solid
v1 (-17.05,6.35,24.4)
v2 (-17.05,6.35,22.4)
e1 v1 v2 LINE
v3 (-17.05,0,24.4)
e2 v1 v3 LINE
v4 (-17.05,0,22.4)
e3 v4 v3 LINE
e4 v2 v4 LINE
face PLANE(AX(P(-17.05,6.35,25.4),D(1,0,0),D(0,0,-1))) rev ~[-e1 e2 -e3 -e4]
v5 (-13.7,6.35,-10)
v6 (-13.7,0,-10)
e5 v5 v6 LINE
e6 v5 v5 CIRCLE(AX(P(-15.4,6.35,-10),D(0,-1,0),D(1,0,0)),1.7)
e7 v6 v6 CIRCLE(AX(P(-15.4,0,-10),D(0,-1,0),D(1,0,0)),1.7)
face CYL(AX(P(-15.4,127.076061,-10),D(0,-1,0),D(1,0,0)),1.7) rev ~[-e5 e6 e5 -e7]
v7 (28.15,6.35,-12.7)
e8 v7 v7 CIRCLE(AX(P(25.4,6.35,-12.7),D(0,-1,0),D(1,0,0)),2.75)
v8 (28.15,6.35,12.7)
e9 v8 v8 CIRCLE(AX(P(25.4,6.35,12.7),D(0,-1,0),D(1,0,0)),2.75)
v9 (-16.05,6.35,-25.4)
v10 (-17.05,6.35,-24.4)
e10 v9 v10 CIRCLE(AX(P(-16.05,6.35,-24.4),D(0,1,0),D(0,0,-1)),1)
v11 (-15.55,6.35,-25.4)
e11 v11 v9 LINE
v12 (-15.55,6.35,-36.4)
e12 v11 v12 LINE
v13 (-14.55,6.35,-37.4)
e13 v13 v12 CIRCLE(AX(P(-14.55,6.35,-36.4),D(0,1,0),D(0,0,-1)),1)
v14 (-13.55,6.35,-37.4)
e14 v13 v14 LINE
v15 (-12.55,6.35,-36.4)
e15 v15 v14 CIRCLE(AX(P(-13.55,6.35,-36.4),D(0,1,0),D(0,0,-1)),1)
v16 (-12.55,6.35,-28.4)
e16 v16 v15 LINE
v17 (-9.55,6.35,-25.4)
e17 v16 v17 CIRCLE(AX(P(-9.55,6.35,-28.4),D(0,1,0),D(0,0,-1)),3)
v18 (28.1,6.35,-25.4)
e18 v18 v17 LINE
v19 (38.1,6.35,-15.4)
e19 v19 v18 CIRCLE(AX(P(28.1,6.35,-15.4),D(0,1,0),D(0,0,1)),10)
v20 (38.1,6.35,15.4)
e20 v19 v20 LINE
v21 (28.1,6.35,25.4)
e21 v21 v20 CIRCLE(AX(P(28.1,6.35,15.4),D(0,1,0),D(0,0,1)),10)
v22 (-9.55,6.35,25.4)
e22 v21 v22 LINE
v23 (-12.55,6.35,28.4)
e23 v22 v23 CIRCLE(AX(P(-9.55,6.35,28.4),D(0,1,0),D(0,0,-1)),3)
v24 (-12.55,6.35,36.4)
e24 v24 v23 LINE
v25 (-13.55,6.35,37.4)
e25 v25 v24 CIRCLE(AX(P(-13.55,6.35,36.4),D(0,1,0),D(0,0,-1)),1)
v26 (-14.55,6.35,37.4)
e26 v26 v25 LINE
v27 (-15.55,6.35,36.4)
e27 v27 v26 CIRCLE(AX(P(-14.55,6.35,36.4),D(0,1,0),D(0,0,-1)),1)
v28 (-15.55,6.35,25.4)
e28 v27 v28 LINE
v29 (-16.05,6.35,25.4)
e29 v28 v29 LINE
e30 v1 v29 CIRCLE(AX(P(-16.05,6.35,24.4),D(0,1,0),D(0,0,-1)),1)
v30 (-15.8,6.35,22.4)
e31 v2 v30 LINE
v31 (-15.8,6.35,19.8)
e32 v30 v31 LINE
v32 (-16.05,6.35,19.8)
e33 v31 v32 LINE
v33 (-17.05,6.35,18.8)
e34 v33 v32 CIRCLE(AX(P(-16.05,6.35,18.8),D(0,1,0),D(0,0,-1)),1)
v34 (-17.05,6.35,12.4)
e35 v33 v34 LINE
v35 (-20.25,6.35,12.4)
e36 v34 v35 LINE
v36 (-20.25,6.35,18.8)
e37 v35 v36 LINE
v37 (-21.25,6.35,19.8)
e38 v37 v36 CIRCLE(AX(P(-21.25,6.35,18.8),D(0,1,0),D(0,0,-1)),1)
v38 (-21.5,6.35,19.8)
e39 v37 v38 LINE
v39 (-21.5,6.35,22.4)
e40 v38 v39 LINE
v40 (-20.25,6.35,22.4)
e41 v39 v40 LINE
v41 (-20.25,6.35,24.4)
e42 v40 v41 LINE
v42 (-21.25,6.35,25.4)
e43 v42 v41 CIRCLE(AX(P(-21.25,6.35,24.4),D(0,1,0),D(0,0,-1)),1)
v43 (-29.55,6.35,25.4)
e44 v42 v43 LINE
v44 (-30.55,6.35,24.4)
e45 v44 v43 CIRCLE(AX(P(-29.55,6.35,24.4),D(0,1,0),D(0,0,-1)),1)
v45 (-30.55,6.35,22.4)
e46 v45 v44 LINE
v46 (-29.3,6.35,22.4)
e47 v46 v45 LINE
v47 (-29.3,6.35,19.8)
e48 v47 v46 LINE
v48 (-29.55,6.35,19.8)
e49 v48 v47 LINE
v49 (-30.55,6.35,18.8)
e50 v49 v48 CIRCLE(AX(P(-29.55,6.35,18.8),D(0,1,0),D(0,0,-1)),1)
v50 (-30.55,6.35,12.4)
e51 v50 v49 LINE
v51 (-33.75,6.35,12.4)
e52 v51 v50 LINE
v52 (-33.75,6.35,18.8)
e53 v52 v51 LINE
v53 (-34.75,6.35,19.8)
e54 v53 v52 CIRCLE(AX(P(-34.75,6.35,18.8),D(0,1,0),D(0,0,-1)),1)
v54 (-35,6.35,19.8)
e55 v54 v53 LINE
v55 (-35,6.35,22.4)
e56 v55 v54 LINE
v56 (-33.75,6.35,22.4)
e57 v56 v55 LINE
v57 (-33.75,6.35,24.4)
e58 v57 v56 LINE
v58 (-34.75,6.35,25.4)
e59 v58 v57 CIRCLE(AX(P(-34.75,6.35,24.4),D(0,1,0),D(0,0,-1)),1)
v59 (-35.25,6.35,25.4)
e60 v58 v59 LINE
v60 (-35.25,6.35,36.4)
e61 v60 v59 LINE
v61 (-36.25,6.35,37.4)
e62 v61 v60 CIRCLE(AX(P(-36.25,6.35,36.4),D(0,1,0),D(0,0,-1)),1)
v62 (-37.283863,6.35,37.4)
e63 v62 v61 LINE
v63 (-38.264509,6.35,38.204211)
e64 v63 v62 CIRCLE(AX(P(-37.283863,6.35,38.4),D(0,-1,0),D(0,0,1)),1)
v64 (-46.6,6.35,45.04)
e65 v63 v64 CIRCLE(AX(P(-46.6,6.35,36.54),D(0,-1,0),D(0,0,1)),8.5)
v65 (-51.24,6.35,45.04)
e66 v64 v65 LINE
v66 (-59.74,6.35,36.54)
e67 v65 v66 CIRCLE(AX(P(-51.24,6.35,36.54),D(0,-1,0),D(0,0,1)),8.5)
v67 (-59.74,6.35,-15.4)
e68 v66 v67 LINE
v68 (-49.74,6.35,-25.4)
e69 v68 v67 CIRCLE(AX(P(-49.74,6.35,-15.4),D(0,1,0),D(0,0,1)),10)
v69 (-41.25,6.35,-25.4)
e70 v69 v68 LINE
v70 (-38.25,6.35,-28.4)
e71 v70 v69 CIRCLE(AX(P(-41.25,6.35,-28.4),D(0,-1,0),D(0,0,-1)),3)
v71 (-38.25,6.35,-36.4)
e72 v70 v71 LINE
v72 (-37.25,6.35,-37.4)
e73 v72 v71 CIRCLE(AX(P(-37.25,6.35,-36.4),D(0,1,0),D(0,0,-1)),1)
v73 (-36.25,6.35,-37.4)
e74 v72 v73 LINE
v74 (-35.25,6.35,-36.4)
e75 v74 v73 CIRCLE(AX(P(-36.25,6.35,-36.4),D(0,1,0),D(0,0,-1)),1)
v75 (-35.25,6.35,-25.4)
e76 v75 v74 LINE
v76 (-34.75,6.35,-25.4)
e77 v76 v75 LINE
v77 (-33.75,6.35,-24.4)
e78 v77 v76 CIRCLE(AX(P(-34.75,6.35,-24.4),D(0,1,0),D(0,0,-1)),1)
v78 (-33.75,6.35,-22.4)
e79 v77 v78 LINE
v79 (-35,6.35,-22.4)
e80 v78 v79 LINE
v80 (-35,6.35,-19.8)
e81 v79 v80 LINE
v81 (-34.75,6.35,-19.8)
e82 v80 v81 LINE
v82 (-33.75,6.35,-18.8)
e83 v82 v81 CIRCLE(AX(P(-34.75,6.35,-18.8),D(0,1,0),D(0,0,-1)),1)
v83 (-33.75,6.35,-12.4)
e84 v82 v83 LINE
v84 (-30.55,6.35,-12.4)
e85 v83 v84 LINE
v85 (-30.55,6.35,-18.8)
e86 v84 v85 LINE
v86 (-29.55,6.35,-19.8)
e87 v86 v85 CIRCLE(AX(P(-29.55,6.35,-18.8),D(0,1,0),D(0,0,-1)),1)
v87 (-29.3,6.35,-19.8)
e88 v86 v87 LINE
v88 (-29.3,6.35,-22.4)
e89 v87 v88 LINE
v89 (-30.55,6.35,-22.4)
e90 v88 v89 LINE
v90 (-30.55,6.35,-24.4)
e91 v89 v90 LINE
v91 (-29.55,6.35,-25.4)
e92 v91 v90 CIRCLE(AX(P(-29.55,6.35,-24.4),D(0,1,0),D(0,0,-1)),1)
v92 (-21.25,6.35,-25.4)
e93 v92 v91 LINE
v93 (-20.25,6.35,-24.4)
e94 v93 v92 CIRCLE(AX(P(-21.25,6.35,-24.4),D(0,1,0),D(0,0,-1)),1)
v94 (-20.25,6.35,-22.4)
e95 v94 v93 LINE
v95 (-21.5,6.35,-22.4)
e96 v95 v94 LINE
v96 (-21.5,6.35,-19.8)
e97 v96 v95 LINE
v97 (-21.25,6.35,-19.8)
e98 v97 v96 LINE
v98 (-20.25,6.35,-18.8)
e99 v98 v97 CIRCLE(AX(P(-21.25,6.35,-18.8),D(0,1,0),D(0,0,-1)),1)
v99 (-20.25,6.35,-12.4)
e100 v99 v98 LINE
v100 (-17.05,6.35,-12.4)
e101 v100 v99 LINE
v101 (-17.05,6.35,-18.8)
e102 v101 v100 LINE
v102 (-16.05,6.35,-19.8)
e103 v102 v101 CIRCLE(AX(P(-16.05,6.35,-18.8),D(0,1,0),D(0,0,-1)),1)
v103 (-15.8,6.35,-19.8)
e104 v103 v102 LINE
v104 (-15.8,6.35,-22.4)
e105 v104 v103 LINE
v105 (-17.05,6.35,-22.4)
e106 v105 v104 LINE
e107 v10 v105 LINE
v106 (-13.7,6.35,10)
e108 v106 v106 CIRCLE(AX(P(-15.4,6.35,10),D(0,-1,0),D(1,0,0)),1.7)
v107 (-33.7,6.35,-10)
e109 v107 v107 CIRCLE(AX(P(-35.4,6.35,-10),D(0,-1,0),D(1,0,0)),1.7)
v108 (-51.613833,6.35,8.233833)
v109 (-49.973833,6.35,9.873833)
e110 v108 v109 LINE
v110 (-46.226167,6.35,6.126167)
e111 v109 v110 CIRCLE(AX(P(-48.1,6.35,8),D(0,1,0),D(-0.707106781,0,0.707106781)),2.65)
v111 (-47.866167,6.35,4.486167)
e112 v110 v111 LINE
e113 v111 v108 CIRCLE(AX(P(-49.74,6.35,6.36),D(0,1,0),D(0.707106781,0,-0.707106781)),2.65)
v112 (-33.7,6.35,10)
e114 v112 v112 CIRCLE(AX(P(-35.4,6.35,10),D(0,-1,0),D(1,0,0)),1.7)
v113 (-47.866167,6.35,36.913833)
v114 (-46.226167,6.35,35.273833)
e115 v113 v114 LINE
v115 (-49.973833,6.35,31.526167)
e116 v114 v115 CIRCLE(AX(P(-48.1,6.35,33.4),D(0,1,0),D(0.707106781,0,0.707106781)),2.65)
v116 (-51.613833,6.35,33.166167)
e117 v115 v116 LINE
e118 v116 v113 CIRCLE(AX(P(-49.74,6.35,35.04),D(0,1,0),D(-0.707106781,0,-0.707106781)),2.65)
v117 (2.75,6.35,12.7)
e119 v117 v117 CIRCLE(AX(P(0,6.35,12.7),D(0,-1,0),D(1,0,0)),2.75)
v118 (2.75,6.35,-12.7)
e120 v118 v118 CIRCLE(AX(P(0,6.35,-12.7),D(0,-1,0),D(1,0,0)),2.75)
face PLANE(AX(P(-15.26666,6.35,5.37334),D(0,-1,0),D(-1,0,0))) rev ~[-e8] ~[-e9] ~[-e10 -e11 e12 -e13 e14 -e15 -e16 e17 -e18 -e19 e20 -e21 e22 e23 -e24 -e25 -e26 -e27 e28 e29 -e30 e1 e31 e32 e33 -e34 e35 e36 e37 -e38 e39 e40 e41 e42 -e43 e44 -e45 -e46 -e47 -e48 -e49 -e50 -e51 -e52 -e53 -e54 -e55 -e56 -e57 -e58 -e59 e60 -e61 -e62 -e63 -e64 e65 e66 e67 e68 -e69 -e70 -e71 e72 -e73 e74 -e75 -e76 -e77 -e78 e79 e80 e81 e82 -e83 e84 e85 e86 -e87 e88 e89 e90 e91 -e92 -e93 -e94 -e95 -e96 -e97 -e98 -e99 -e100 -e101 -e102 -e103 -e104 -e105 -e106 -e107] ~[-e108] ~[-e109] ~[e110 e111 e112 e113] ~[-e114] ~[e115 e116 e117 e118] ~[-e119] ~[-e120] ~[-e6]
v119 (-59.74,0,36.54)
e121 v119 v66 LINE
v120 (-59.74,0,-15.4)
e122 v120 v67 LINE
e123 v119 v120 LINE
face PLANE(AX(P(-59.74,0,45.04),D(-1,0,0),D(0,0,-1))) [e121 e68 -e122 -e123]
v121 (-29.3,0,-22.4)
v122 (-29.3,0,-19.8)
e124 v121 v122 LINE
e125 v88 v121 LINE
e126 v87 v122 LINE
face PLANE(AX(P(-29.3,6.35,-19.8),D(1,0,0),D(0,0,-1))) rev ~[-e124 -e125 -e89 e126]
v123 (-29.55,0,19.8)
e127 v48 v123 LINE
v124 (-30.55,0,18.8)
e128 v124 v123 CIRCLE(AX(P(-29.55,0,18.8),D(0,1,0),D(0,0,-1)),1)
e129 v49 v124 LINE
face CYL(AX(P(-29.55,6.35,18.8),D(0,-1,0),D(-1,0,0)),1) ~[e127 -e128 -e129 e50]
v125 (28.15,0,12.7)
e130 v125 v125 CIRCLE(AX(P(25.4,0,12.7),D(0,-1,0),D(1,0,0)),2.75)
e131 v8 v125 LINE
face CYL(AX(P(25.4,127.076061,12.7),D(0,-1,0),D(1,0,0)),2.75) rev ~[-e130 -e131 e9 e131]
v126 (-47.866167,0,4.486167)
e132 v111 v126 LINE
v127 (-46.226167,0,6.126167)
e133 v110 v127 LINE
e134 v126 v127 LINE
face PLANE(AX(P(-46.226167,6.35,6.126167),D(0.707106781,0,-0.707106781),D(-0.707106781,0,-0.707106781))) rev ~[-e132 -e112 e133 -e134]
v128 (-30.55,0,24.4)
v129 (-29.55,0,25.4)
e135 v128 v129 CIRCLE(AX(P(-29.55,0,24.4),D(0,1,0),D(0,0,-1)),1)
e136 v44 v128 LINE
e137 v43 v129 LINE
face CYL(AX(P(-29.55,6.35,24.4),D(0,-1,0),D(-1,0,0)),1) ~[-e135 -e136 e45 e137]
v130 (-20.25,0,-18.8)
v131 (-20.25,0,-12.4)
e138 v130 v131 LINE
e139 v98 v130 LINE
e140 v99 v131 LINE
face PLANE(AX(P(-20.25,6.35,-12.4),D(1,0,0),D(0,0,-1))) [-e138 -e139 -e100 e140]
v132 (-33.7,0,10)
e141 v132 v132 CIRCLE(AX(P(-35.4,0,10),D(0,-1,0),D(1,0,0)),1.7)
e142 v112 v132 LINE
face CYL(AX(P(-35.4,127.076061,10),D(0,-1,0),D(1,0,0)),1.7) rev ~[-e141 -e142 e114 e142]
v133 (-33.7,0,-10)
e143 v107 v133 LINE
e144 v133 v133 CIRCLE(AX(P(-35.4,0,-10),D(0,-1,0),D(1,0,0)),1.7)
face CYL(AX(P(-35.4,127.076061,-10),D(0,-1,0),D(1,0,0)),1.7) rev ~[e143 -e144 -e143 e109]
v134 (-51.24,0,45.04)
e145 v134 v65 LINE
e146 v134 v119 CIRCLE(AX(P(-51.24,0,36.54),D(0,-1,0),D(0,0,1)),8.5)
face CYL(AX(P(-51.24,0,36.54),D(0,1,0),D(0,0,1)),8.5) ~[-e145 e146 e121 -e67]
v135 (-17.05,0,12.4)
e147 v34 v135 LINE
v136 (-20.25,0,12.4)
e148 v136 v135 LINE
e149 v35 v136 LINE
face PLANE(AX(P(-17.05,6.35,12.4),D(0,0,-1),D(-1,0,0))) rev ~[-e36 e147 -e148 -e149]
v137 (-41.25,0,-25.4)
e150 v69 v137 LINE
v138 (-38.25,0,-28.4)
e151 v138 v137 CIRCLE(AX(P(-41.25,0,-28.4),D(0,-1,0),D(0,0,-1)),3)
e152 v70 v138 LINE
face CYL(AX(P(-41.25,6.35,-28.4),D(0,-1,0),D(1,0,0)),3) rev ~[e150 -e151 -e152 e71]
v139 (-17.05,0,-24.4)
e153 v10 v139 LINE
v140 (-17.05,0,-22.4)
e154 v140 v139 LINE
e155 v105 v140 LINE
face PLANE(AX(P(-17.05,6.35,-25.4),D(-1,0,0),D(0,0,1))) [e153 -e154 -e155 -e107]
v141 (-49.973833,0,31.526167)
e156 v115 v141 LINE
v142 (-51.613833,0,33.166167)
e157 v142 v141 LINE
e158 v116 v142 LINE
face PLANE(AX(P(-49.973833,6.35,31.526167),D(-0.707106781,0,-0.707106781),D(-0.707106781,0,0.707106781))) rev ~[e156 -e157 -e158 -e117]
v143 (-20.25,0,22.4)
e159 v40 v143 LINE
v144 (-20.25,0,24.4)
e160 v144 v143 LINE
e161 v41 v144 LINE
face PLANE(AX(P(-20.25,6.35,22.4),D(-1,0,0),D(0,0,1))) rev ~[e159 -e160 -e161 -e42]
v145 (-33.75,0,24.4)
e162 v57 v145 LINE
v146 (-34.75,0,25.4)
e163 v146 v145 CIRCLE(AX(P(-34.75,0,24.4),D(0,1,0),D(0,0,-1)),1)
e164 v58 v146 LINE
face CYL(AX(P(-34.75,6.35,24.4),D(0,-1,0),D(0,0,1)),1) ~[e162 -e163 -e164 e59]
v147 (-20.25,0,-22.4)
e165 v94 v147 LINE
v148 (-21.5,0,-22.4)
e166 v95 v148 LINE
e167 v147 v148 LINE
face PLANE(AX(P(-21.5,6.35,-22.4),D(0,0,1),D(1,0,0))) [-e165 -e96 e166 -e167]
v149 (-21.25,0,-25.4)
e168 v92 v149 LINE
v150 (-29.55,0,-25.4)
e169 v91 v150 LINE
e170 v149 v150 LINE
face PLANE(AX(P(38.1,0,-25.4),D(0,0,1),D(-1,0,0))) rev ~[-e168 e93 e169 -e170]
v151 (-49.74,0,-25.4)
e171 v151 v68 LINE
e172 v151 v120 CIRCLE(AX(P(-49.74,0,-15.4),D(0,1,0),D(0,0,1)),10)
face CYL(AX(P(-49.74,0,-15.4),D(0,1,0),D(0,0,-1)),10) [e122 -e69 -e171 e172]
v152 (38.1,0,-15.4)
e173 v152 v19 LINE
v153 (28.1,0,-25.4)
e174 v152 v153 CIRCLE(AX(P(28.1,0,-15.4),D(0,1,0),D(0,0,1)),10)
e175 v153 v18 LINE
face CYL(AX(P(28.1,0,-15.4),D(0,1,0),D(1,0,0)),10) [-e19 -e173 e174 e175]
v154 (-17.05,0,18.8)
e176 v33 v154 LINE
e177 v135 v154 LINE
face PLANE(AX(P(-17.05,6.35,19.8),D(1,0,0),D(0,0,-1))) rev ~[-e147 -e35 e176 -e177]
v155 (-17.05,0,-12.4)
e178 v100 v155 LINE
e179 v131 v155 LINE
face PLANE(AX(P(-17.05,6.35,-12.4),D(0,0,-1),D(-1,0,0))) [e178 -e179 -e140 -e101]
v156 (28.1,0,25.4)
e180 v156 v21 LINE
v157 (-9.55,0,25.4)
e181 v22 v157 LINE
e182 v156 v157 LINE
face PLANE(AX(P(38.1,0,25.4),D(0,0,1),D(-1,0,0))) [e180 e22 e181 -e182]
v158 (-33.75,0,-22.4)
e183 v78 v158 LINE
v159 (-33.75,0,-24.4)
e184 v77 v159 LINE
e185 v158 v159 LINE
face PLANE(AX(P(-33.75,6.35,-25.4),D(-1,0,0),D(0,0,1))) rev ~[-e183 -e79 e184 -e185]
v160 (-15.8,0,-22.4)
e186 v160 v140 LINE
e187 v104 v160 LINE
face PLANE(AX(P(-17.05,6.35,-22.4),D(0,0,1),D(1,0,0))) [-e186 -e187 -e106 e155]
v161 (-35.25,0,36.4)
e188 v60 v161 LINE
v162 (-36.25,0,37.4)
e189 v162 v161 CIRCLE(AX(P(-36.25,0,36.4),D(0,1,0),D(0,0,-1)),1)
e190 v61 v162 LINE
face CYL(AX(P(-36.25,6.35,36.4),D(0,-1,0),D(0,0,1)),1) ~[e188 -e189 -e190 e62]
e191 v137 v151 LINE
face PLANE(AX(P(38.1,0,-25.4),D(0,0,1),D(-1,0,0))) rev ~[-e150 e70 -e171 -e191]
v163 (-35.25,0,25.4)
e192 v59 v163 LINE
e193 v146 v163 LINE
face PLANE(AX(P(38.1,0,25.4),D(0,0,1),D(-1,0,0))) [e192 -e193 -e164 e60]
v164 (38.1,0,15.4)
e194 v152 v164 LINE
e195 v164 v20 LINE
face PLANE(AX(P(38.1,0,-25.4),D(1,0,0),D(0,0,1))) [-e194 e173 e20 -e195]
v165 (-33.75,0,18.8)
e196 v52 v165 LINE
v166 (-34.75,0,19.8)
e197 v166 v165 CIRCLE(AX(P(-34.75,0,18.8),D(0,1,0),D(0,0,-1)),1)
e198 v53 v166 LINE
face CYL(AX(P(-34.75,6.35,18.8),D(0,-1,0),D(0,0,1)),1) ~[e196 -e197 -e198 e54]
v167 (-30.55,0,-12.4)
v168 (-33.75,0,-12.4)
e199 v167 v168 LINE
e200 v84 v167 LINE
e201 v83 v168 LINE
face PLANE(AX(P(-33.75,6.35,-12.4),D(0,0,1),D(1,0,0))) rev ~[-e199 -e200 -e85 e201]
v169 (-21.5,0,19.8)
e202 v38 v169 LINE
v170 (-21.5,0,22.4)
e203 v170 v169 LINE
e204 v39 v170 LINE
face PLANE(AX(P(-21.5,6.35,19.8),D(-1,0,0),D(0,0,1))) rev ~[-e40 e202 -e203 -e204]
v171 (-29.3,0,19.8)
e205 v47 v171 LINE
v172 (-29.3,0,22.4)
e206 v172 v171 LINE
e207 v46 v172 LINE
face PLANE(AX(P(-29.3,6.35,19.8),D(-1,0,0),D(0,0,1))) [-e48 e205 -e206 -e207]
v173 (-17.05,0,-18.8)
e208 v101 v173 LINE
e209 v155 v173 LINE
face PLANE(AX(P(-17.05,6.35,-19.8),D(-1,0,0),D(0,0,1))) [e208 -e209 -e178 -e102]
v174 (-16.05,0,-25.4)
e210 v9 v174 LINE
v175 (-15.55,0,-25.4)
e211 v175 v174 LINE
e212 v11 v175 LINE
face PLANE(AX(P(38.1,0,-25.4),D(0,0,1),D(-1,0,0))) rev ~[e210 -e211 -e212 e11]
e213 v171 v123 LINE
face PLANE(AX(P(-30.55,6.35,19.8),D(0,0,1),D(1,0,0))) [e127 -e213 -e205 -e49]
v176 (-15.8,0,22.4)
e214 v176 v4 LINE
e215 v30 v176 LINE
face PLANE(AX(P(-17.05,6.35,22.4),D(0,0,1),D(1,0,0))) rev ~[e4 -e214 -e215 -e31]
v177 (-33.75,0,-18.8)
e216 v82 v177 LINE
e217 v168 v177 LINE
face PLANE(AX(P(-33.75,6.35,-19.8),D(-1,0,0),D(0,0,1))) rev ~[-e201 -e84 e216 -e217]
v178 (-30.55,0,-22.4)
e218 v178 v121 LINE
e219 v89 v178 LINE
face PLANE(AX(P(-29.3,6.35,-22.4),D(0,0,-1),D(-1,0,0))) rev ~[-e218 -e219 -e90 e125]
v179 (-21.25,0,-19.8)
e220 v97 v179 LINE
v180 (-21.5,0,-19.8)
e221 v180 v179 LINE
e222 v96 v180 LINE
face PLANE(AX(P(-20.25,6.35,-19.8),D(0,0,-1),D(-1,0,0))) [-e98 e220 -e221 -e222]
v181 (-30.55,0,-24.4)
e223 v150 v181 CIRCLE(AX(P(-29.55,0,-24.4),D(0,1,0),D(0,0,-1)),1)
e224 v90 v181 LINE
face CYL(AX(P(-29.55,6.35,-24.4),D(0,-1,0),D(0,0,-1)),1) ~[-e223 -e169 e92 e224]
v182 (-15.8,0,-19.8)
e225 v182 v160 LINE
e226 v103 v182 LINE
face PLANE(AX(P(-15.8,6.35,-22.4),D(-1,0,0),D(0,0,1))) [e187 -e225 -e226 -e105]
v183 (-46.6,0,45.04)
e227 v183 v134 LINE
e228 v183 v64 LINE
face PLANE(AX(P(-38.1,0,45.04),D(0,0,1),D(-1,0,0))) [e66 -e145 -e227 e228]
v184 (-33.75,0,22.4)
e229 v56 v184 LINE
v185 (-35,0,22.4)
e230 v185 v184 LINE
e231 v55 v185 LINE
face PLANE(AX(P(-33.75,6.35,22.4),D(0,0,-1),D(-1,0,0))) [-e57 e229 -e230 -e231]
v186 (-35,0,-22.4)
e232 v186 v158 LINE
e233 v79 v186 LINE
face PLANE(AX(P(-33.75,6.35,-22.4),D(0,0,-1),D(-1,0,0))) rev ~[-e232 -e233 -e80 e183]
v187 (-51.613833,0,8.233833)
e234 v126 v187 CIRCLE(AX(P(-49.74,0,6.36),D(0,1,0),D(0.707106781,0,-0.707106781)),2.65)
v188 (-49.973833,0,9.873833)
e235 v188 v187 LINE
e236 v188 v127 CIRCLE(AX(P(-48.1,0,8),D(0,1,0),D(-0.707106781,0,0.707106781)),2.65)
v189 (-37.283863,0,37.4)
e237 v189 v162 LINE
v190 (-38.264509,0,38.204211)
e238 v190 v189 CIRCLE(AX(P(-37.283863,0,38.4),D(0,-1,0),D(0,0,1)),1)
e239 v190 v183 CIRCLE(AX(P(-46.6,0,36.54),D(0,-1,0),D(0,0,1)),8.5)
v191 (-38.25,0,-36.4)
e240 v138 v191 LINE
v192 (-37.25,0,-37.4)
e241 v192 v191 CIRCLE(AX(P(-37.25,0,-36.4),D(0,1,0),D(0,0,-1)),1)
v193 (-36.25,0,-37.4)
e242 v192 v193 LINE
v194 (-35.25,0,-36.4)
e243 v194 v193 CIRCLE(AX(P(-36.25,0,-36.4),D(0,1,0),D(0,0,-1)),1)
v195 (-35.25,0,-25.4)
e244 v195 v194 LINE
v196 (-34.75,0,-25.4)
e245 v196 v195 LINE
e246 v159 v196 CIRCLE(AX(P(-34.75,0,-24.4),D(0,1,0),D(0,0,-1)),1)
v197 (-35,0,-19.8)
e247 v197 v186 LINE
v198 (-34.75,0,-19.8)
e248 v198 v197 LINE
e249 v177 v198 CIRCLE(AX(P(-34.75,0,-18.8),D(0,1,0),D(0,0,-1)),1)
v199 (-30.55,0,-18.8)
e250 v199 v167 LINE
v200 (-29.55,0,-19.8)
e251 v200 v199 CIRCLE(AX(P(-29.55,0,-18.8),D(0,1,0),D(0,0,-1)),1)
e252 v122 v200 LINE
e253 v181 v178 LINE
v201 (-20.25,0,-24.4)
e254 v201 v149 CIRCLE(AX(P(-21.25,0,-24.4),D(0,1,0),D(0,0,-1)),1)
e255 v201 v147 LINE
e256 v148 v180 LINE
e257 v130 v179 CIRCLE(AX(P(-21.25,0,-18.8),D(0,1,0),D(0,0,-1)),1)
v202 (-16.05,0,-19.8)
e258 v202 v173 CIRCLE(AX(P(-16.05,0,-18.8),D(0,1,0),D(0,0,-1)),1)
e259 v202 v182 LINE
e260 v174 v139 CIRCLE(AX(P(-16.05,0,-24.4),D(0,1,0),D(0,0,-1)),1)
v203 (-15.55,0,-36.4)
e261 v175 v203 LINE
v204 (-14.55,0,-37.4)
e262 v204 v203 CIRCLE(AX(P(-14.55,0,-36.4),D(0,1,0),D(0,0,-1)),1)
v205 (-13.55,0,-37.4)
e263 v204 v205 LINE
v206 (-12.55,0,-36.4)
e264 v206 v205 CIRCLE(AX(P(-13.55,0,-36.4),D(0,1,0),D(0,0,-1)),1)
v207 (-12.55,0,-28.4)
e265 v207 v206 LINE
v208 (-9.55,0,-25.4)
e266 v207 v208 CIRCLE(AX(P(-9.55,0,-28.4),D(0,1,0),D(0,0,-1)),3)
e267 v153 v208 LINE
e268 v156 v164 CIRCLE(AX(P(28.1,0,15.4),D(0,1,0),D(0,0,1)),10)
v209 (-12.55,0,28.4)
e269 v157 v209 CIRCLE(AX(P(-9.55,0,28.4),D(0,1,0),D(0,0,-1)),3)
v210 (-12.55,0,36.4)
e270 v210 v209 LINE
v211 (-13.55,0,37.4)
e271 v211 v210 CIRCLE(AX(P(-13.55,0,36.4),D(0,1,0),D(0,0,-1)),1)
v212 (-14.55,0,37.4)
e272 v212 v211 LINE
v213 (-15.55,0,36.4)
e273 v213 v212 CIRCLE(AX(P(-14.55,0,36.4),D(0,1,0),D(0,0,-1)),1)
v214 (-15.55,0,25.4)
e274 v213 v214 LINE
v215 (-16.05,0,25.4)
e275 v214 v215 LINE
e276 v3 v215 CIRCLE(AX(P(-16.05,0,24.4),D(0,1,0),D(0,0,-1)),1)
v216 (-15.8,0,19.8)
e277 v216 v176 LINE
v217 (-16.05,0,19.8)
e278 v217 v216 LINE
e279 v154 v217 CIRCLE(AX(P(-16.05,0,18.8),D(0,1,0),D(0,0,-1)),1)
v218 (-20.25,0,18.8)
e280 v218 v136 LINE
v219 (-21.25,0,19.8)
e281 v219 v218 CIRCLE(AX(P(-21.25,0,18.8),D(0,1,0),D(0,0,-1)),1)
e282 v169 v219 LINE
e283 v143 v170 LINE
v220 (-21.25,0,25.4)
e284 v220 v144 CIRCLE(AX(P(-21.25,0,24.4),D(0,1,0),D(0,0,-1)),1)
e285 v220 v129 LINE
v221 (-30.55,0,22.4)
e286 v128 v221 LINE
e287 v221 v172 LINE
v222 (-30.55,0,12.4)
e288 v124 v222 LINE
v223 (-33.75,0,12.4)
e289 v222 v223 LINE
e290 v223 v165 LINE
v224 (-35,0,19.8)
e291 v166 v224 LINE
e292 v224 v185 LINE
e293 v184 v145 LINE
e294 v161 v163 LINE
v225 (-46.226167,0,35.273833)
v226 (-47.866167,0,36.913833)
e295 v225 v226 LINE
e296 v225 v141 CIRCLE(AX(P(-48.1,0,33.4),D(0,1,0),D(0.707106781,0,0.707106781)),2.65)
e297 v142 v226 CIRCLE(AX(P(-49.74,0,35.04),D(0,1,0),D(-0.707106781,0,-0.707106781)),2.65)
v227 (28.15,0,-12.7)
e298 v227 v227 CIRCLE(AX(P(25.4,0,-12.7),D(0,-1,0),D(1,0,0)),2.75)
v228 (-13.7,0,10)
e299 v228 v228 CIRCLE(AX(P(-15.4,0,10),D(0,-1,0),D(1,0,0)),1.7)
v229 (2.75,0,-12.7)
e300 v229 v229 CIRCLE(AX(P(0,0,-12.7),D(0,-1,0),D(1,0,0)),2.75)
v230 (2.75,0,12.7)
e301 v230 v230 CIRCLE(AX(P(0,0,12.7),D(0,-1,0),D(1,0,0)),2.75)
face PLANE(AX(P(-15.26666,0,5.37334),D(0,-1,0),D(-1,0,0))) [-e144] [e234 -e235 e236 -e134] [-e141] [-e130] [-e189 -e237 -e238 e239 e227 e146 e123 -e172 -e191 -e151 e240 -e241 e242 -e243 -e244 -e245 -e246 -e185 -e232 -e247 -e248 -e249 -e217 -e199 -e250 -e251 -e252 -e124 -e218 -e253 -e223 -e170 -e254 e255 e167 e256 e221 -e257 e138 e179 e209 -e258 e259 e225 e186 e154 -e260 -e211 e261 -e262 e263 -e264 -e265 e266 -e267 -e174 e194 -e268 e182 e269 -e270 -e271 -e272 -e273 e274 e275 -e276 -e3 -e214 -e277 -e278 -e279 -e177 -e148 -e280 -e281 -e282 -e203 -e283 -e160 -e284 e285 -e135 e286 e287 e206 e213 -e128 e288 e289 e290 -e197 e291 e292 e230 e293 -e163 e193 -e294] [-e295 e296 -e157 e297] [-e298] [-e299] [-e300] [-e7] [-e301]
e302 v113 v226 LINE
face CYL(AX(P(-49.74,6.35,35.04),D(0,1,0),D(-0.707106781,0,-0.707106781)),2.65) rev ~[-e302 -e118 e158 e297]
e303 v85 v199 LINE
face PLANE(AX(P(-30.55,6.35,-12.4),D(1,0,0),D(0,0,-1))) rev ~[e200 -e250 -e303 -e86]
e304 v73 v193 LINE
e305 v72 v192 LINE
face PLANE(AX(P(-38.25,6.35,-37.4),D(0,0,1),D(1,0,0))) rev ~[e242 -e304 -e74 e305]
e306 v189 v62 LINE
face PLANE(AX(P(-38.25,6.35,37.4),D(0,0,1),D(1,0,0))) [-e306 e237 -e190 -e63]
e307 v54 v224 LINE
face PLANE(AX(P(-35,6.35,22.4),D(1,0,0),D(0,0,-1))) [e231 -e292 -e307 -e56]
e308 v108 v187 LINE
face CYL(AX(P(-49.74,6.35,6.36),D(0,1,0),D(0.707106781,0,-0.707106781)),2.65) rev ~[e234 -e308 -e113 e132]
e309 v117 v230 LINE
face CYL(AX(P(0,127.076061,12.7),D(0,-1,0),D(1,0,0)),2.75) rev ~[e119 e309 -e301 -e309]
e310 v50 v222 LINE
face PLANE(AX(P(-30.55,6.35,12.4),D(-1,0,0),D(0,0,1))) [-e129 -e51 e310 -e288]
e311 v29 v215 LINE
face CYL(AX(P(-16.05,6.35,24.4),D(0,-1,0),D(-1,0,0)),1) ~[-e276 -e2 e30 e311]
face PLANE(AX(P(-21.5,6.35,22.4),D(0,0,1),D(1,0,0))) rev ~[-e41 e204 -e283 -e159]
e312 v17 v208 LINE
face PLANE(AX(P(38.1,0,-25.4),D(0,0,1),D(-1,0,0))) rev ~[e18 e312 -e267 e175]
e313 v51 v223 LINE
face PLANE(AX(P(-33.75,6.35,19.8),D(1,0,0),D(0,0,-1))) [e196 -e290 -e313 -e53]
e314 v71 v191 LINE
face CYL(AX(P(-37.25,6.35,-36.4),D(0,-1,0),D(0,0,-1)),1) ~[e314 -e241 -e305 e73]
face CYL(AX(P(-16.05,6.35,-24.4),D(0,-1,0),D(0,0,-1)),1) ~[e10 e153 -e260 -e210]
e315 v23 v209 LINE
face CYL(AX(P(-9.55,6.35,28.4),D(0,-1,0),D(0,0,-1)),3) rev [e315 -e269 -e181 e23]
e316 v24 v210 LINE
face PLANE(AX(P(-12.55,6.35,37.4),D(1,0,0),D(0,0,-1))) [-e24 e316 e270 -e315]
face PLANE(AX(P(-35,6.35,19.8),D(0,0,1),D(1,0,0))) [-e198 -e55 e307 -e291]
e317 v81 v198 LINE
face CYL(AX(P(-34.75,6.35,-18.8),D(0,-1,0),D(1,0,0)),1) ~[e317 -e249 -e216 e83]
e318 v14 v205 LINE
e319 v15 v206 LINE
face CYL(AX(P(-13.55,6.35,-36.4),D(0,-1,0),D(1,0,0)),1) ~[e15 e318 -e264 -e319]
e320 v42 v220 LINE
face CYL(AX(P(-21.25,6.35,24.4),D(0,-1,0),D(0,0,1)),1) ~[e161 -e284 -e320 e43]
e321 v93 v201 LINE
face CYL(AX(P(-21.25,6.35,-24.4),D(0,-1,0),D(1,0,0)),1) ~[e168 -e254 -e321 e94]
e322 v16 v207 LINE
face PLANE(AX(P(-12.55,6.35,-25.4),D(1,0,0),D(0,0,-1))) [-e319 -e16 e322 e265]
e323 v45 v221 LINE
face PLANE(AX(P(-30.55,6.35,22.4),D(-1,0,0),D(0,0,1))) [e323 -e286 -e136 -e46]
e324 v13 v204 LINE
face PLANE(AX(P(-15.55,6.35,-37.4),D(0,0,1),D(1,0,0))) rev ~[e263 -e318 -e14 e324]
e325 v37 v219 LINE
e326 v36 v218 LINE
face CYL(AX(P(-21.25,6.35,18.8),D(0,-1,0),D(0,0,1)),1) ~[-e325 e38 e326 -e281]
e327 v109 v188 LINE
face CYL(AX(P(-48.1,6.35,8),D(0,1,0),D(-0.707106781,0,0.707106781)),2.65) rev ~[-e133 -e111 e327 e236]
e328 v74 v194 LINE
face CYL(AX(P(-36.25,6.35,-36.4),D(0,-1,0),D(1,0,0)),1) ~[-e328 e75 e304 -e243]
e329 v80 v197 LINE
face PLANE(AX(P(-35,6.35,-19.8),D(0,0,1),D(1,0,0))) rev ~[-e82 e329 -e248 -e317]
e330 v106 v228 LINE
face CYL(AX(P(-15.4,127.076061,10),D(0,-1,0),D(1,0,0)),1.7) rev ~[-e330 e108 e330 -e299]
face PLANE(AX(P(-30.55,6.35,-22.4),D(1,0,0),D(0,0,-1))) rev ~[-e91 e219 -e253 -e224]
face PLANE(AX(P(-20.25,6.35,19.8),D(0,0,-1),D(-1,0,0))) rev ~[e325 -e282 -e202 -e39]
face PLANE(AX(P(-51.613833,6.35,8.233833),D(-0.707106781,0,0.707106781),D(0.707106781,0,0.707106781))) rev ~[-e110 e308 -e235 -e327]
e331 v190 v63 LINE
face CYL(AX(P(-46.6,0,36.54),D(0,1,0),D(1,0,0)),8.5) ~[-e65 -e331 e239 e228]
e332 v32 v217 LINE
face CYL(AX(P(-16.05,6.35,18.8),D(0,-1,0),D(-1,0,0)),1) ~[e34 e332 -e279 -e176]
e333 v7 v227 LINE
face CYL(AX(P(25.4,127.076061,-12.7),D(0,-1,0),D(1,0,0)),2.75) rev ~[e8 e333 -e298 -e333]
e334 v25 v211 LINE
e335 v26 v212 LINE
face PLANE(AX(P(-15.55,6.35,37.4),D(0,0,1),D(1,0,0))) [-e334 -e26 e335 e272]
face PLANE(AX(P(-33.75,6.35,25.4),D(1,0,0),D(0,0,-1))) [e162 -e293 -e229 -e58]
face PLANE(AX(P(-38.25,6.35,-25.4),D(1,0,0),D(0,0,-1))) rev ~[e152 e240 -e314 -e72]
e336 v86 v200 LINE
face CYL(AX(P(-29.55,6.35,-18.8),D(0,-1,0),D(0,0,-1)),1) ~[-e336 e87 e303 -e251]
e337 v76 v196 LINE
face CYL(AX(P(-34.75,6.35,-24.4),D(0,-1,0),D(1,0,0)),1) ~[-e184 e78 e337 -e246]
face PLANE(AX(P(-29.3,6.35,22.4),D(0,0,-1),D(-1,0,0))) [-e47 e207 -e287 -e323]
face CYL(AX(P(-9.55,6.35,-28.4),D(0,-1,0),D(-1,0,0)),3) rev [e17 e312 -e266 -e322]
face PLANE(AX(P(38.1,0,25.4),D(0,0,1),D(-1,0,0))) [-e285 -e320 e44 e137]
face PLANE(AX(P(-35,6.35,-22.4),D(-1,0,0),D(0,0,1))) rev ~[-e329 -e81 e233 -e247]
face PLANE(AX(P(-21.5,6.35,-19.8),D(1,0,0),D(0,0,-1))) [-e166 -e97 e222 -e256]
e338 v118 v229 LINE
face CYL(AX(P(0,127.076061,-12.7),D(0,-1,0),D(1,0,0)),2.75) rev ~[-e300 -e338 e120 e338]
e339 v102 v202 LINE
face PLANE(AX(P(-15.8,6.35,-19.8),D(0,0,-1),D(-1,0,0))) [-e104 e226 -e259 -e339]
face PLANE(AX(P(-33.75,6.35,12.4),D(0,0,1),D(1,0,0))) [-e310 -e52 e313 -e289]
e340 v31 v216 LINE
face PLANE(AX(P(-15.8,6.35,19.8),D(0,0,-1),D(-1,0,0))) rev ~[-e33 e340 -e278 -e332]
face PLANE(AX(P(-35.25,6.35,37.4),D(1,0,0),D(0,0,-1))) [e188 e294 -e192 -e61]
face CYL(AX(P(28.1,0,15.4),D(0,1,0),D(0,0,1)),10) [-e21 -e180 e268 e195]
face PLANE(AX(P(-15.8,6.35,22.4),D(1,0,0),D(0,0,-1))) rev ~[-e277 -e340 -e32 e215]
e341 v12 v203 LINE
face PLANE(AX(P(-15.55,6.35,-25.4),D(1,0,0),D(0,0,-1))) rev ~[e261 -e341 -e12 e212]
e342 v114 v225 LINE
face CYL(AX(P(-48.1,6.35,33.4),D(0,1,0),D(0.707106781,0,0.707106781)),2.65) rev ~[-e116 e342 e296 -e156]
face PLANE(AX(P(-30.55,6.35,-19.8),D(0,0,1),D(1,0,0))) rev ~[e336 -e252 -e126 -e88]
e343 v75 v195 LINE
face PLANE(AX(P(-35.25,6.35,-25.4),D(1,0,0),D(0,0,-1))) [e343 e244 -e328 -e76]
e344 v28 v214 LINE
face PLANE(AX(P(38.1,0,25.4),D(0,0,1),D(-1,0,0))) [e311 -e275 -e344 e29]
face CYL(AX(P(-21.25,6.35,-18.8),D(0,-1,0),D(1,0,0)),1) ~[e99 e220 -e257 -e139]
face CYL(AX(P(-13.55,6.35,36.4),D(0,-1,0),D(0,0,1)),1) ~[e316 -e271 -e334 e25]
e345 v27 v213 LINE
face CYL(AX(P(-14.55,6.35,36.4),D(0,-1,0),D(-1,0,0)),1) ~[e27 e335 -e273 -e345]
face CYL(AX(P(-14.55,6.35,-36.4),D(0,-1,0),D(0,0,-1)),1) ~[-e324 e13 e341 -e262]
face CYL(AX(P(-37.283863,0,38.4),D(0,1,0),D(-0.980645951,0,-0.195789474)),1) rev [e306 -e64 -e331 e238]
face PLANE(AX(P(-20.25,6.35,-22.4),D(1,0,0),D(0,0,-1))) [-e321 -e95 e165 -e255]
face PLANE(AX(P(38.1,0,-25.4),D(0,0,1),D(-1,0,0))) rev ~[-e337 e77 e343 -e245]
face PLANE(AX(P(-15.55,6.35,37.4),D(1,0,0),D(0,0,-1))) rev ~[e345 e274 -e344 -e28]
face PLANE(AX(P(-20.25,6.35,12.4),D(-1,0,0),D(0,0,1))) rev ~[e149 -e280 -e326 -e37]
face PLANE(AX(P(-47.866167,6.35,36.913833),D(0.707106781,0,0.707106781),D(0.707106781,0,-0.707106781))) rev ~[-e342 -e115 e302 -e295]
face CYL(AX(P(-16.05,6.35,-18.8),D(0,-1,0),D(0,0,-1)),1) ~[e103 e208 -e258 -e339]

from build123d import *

# Parameters (mm, degrees)
BOSS_EXTRUDE1_DEPTH  = 6.35
FILLET1_R            = 8.5
FILLET2_R            = 10
M5_CLEARANCE_HOLE1_D = 5.5
M3_CLEARANCE_HOLE1_D = 3.4
CUT_EXTRUDE1_DEPTH   = 7.35
SKETCH9_W            = 3
SKETCH9_H            = 12
BOSS_EXTRUDE2_DEPTH  = 6.35
CUT_EXTRUDE2_DEPTH   = 7.35
FILLET3_R            = 1
FILLET4_R            = 3


with BuildPart() as part:
    # Sketch1 → Boss-Extrude1 (new body)
    with BuildSketch(Plane(origin=(0, 0, 0), x_dir=(1, 0, 0), z_dir=(0, 1, 0))):
        Polygon((38.1, -25.4), (-38.1, -25.4), (-38.1, -45.04), (-59.74, -45.04), (-59.74, 25.4), (-38.1, 25.4), (38.1, 25.4), align=None)
    extrude(amount=BOSS_EXTRUDE1_DEPTH)

    # Fillet1
    fillet1_edges = [part.edges().sort_by_distance(p)[0] for p in [
        (-38.1, 3.175, 45.04),
        (-59.74, 3.175, 45.04),
    ]]
    fillet(fillet1_edges, radius=FILLET1_R)

    # Fillet2
    fillet2_edges = [part.edges().sort_by_distance(p)[0] for p in [
        (38.1, 3.175, -25.4),
        (38.1, 3.175, 25.4),
        (-59.74, 3.175, -25.4),
    ]]
    fillet(fillet2_edges, radius=FILLET2_R)

    # M5 Clearance Hole1 (through all)
    with Locations(Plane(origin=(0, 6.35, 0), x_dir=(-1, 0, 0), z_dir=(0, 1, 0))):
        with Locations((0, 12.7), (-25.4, 12.7), (-25.4, -12.7), (0, -12.7)):
            Hole(M5_CLEARANCE_HOLE1_D / 2)

    # M3 Clearance Hole1 (through all)
    with Locations(Plane(origin=(0, 6.35, 0), x_dir=(-1, 0, 0), z_dir=(0, 1, 0))):
        with Locations((15.4, 10), (15.4, -10), (35.4, -10), (35.4, 10)):
            Hole(M3_CLEARANCE_HOLE1_D / 2)

    # Sketch8 → Cut-Extrude1 (cut, through all)
    with BuildSketch(Plane(origin=(0, 6.35, 0), x_dir=(1, 0, 0), z_dir=(0, 1, 0))):
        with BuildLine():
            Line((-51.61383297, -8.23383297), (-49.97383297, -9.87383297))
            ThreePointArc((-49.97383297, -9.87383297), (-46.22616703, -9.87383297), (-46.22616703, -6.12616703))
            Line((-46.22616703, -6.12616703), (-47.86616703, -4.48616703))
            ThreePointArc((-47.86616703, -4.48616703), (-51.61383297, -4.48616703), (-51.61383297, -8.23383297))
        make_face()
        with BuildLine():
            Line((-47.86616703, -36.91383297), (-46.22616703, -35.27383297))
            ThreePointArc((-46.22616703, -35.27383297), (-46.22616703, -31.52616703), (-49.97383297, -31.52616703))
            Line((-49.97383297, -31.52616703), (-51.61383297, -33.16616703))
            ThreePointArc((-51.61383297, -33.16616703), (-51.61383297, -36.91383297), (-47.86616703, -36.91383297))
        make_face()
    extrude(amount=-CUT_EXTRUDE1_DEPTH, mode=Mode.SUBTRACT)

    # Sketch9 → Boss-Extrude2 (add)
    with BuildSketch(Plane(origin=(0, 6.35, 0), x_dir=(1, 0, 0), z_dir=(0, 1, 0))):
        with Locations((-14.05, 31.4)):
            Rectangle(SKETCH9_W, SKETCH9_H)
        with Locations((-36.75, 31.4)):
            Rectangle(SKETCH9_W, SKETCH9_H)
        with Locations((-36.75, -31.4)):
            Rectangle(SKETCH9_W, SKETCH9_H)
        with Locations((-14.05, -31.4)):
            Rectangle(SKETCH9_W, SKETCH9_H)
    extrude(amount=-BOSS_EXTRUDE2_DEPTH)

    # Sketch10 → Cut-Extrude2 (cut, through all)
    with BuildSketch(Plane(origin=(0, 6.35, 0), x_dir=(1, 0, 0), z_dir=(0, 1, 0))):
        Polygon((-33.75, 12.4), (-30.55, 12.4), (-30.55, 19.8), (-29.3, 19.8), (-29.3, 22.4), (-30.55, 22.4), (-30.55, 25.4), (-33.75, 25.4), (-33.75, 22.4), (-35, 22.4), (-35, 19.8), (-33.75, 19.8), align=None)
        Polygon((-20.25, 12.4), (-20.25, 19.8), (-21.5, 19.8), (-21.5, 22.4), (-20.25, 22.4), (-20.25, 25.4), (-17.05, 25.4), (-17.05, 22.4), (-15.8, 22.4), (-15.8, 19.8), (-17.05, 19.8), (-17.05, 12.4), align=None)
        Polygon((-20.25, -22.4), (-20.25, -25.4), (-17.05, -25.4), (-17.05, -22.4), (-15.8, -22.4), (-15.8, -19.8), (-17.05, -19.8), (-17.05, -12.4), (-20.25, -12.4), (-20.25, -19.8), (-21.5, -19.8), (-21.5, -22.4), align=None)
        Polygon((-30.55, -22.4), (-30.55, -25.4), (-33.75, -25.4), (-33.75, -22.4), (-35, -22.4), (-35, -19.8), (-33.75, -19.8), (-33.75, -12.4), (-30.55, -12.4), (-30.55, -19.8), (-29.3, -19.8), (-29.3, -22.4), align=None)
    extrude(amount=-CUT_EXTRUDE2_DEPTH, mode=Mode.SUBTRACT)

    # Fillet3
    fillet3_edges = [part.edges().sort_by_distance(p)[0] for p in [
        (-15.55, 3.175, -37.4),
        (-12.55, 3.175, -37.4),
        (-38.25, 3.175, -37.4),
        (-35.25, 3.175, -37.4),
        (-38.143617795, 3.175, 37.4),
        (-35.25, 3.175, 37.4),
        (-12.55, 3.175, 37.4),
        (-15.55, 3.175, 37.4),
        (-30.55, 3.175, -19.8),
        (-33.75, 3.175, -19.8),
        (-33.75, 3.175, -25.4),
        (-30.55, 3.175, -25.4),
        (-20.25, 3.175, -19.8),
        (-20.25, 3.175, -25.4),
        (-17.05, 3.175, -25.4),
        (-17.05, 3.175, -19.8),
        (-20.25, 3.175, 19.8),
        (-17.05, 3.175, 19.8),
        (-17.05, 3.175, 25.4),
        (-20.25, 3.175, 25.4),
        (-30.55, 3.175, 25.4),
        (-33.75, 3.175, 25.4),
        (-33.75, 3.175, 19.8),
        (-30.55, 3.175, 19.8),
    ]]
    fillet(fillet3_edges, radius=FILLET3_R)

    # Fillet4
    fillet4_edges = [part.edges().sort_by_distance(p)[0] for p in [
        (-12.55, 3.175, -25.4),
        (-38.25, 3.175, -25.4),
        (-12.55, 3.175, 25.4),
    ]]
    fillet(fillet4_edges, radius=FILLET4_R)


solid = part.part
